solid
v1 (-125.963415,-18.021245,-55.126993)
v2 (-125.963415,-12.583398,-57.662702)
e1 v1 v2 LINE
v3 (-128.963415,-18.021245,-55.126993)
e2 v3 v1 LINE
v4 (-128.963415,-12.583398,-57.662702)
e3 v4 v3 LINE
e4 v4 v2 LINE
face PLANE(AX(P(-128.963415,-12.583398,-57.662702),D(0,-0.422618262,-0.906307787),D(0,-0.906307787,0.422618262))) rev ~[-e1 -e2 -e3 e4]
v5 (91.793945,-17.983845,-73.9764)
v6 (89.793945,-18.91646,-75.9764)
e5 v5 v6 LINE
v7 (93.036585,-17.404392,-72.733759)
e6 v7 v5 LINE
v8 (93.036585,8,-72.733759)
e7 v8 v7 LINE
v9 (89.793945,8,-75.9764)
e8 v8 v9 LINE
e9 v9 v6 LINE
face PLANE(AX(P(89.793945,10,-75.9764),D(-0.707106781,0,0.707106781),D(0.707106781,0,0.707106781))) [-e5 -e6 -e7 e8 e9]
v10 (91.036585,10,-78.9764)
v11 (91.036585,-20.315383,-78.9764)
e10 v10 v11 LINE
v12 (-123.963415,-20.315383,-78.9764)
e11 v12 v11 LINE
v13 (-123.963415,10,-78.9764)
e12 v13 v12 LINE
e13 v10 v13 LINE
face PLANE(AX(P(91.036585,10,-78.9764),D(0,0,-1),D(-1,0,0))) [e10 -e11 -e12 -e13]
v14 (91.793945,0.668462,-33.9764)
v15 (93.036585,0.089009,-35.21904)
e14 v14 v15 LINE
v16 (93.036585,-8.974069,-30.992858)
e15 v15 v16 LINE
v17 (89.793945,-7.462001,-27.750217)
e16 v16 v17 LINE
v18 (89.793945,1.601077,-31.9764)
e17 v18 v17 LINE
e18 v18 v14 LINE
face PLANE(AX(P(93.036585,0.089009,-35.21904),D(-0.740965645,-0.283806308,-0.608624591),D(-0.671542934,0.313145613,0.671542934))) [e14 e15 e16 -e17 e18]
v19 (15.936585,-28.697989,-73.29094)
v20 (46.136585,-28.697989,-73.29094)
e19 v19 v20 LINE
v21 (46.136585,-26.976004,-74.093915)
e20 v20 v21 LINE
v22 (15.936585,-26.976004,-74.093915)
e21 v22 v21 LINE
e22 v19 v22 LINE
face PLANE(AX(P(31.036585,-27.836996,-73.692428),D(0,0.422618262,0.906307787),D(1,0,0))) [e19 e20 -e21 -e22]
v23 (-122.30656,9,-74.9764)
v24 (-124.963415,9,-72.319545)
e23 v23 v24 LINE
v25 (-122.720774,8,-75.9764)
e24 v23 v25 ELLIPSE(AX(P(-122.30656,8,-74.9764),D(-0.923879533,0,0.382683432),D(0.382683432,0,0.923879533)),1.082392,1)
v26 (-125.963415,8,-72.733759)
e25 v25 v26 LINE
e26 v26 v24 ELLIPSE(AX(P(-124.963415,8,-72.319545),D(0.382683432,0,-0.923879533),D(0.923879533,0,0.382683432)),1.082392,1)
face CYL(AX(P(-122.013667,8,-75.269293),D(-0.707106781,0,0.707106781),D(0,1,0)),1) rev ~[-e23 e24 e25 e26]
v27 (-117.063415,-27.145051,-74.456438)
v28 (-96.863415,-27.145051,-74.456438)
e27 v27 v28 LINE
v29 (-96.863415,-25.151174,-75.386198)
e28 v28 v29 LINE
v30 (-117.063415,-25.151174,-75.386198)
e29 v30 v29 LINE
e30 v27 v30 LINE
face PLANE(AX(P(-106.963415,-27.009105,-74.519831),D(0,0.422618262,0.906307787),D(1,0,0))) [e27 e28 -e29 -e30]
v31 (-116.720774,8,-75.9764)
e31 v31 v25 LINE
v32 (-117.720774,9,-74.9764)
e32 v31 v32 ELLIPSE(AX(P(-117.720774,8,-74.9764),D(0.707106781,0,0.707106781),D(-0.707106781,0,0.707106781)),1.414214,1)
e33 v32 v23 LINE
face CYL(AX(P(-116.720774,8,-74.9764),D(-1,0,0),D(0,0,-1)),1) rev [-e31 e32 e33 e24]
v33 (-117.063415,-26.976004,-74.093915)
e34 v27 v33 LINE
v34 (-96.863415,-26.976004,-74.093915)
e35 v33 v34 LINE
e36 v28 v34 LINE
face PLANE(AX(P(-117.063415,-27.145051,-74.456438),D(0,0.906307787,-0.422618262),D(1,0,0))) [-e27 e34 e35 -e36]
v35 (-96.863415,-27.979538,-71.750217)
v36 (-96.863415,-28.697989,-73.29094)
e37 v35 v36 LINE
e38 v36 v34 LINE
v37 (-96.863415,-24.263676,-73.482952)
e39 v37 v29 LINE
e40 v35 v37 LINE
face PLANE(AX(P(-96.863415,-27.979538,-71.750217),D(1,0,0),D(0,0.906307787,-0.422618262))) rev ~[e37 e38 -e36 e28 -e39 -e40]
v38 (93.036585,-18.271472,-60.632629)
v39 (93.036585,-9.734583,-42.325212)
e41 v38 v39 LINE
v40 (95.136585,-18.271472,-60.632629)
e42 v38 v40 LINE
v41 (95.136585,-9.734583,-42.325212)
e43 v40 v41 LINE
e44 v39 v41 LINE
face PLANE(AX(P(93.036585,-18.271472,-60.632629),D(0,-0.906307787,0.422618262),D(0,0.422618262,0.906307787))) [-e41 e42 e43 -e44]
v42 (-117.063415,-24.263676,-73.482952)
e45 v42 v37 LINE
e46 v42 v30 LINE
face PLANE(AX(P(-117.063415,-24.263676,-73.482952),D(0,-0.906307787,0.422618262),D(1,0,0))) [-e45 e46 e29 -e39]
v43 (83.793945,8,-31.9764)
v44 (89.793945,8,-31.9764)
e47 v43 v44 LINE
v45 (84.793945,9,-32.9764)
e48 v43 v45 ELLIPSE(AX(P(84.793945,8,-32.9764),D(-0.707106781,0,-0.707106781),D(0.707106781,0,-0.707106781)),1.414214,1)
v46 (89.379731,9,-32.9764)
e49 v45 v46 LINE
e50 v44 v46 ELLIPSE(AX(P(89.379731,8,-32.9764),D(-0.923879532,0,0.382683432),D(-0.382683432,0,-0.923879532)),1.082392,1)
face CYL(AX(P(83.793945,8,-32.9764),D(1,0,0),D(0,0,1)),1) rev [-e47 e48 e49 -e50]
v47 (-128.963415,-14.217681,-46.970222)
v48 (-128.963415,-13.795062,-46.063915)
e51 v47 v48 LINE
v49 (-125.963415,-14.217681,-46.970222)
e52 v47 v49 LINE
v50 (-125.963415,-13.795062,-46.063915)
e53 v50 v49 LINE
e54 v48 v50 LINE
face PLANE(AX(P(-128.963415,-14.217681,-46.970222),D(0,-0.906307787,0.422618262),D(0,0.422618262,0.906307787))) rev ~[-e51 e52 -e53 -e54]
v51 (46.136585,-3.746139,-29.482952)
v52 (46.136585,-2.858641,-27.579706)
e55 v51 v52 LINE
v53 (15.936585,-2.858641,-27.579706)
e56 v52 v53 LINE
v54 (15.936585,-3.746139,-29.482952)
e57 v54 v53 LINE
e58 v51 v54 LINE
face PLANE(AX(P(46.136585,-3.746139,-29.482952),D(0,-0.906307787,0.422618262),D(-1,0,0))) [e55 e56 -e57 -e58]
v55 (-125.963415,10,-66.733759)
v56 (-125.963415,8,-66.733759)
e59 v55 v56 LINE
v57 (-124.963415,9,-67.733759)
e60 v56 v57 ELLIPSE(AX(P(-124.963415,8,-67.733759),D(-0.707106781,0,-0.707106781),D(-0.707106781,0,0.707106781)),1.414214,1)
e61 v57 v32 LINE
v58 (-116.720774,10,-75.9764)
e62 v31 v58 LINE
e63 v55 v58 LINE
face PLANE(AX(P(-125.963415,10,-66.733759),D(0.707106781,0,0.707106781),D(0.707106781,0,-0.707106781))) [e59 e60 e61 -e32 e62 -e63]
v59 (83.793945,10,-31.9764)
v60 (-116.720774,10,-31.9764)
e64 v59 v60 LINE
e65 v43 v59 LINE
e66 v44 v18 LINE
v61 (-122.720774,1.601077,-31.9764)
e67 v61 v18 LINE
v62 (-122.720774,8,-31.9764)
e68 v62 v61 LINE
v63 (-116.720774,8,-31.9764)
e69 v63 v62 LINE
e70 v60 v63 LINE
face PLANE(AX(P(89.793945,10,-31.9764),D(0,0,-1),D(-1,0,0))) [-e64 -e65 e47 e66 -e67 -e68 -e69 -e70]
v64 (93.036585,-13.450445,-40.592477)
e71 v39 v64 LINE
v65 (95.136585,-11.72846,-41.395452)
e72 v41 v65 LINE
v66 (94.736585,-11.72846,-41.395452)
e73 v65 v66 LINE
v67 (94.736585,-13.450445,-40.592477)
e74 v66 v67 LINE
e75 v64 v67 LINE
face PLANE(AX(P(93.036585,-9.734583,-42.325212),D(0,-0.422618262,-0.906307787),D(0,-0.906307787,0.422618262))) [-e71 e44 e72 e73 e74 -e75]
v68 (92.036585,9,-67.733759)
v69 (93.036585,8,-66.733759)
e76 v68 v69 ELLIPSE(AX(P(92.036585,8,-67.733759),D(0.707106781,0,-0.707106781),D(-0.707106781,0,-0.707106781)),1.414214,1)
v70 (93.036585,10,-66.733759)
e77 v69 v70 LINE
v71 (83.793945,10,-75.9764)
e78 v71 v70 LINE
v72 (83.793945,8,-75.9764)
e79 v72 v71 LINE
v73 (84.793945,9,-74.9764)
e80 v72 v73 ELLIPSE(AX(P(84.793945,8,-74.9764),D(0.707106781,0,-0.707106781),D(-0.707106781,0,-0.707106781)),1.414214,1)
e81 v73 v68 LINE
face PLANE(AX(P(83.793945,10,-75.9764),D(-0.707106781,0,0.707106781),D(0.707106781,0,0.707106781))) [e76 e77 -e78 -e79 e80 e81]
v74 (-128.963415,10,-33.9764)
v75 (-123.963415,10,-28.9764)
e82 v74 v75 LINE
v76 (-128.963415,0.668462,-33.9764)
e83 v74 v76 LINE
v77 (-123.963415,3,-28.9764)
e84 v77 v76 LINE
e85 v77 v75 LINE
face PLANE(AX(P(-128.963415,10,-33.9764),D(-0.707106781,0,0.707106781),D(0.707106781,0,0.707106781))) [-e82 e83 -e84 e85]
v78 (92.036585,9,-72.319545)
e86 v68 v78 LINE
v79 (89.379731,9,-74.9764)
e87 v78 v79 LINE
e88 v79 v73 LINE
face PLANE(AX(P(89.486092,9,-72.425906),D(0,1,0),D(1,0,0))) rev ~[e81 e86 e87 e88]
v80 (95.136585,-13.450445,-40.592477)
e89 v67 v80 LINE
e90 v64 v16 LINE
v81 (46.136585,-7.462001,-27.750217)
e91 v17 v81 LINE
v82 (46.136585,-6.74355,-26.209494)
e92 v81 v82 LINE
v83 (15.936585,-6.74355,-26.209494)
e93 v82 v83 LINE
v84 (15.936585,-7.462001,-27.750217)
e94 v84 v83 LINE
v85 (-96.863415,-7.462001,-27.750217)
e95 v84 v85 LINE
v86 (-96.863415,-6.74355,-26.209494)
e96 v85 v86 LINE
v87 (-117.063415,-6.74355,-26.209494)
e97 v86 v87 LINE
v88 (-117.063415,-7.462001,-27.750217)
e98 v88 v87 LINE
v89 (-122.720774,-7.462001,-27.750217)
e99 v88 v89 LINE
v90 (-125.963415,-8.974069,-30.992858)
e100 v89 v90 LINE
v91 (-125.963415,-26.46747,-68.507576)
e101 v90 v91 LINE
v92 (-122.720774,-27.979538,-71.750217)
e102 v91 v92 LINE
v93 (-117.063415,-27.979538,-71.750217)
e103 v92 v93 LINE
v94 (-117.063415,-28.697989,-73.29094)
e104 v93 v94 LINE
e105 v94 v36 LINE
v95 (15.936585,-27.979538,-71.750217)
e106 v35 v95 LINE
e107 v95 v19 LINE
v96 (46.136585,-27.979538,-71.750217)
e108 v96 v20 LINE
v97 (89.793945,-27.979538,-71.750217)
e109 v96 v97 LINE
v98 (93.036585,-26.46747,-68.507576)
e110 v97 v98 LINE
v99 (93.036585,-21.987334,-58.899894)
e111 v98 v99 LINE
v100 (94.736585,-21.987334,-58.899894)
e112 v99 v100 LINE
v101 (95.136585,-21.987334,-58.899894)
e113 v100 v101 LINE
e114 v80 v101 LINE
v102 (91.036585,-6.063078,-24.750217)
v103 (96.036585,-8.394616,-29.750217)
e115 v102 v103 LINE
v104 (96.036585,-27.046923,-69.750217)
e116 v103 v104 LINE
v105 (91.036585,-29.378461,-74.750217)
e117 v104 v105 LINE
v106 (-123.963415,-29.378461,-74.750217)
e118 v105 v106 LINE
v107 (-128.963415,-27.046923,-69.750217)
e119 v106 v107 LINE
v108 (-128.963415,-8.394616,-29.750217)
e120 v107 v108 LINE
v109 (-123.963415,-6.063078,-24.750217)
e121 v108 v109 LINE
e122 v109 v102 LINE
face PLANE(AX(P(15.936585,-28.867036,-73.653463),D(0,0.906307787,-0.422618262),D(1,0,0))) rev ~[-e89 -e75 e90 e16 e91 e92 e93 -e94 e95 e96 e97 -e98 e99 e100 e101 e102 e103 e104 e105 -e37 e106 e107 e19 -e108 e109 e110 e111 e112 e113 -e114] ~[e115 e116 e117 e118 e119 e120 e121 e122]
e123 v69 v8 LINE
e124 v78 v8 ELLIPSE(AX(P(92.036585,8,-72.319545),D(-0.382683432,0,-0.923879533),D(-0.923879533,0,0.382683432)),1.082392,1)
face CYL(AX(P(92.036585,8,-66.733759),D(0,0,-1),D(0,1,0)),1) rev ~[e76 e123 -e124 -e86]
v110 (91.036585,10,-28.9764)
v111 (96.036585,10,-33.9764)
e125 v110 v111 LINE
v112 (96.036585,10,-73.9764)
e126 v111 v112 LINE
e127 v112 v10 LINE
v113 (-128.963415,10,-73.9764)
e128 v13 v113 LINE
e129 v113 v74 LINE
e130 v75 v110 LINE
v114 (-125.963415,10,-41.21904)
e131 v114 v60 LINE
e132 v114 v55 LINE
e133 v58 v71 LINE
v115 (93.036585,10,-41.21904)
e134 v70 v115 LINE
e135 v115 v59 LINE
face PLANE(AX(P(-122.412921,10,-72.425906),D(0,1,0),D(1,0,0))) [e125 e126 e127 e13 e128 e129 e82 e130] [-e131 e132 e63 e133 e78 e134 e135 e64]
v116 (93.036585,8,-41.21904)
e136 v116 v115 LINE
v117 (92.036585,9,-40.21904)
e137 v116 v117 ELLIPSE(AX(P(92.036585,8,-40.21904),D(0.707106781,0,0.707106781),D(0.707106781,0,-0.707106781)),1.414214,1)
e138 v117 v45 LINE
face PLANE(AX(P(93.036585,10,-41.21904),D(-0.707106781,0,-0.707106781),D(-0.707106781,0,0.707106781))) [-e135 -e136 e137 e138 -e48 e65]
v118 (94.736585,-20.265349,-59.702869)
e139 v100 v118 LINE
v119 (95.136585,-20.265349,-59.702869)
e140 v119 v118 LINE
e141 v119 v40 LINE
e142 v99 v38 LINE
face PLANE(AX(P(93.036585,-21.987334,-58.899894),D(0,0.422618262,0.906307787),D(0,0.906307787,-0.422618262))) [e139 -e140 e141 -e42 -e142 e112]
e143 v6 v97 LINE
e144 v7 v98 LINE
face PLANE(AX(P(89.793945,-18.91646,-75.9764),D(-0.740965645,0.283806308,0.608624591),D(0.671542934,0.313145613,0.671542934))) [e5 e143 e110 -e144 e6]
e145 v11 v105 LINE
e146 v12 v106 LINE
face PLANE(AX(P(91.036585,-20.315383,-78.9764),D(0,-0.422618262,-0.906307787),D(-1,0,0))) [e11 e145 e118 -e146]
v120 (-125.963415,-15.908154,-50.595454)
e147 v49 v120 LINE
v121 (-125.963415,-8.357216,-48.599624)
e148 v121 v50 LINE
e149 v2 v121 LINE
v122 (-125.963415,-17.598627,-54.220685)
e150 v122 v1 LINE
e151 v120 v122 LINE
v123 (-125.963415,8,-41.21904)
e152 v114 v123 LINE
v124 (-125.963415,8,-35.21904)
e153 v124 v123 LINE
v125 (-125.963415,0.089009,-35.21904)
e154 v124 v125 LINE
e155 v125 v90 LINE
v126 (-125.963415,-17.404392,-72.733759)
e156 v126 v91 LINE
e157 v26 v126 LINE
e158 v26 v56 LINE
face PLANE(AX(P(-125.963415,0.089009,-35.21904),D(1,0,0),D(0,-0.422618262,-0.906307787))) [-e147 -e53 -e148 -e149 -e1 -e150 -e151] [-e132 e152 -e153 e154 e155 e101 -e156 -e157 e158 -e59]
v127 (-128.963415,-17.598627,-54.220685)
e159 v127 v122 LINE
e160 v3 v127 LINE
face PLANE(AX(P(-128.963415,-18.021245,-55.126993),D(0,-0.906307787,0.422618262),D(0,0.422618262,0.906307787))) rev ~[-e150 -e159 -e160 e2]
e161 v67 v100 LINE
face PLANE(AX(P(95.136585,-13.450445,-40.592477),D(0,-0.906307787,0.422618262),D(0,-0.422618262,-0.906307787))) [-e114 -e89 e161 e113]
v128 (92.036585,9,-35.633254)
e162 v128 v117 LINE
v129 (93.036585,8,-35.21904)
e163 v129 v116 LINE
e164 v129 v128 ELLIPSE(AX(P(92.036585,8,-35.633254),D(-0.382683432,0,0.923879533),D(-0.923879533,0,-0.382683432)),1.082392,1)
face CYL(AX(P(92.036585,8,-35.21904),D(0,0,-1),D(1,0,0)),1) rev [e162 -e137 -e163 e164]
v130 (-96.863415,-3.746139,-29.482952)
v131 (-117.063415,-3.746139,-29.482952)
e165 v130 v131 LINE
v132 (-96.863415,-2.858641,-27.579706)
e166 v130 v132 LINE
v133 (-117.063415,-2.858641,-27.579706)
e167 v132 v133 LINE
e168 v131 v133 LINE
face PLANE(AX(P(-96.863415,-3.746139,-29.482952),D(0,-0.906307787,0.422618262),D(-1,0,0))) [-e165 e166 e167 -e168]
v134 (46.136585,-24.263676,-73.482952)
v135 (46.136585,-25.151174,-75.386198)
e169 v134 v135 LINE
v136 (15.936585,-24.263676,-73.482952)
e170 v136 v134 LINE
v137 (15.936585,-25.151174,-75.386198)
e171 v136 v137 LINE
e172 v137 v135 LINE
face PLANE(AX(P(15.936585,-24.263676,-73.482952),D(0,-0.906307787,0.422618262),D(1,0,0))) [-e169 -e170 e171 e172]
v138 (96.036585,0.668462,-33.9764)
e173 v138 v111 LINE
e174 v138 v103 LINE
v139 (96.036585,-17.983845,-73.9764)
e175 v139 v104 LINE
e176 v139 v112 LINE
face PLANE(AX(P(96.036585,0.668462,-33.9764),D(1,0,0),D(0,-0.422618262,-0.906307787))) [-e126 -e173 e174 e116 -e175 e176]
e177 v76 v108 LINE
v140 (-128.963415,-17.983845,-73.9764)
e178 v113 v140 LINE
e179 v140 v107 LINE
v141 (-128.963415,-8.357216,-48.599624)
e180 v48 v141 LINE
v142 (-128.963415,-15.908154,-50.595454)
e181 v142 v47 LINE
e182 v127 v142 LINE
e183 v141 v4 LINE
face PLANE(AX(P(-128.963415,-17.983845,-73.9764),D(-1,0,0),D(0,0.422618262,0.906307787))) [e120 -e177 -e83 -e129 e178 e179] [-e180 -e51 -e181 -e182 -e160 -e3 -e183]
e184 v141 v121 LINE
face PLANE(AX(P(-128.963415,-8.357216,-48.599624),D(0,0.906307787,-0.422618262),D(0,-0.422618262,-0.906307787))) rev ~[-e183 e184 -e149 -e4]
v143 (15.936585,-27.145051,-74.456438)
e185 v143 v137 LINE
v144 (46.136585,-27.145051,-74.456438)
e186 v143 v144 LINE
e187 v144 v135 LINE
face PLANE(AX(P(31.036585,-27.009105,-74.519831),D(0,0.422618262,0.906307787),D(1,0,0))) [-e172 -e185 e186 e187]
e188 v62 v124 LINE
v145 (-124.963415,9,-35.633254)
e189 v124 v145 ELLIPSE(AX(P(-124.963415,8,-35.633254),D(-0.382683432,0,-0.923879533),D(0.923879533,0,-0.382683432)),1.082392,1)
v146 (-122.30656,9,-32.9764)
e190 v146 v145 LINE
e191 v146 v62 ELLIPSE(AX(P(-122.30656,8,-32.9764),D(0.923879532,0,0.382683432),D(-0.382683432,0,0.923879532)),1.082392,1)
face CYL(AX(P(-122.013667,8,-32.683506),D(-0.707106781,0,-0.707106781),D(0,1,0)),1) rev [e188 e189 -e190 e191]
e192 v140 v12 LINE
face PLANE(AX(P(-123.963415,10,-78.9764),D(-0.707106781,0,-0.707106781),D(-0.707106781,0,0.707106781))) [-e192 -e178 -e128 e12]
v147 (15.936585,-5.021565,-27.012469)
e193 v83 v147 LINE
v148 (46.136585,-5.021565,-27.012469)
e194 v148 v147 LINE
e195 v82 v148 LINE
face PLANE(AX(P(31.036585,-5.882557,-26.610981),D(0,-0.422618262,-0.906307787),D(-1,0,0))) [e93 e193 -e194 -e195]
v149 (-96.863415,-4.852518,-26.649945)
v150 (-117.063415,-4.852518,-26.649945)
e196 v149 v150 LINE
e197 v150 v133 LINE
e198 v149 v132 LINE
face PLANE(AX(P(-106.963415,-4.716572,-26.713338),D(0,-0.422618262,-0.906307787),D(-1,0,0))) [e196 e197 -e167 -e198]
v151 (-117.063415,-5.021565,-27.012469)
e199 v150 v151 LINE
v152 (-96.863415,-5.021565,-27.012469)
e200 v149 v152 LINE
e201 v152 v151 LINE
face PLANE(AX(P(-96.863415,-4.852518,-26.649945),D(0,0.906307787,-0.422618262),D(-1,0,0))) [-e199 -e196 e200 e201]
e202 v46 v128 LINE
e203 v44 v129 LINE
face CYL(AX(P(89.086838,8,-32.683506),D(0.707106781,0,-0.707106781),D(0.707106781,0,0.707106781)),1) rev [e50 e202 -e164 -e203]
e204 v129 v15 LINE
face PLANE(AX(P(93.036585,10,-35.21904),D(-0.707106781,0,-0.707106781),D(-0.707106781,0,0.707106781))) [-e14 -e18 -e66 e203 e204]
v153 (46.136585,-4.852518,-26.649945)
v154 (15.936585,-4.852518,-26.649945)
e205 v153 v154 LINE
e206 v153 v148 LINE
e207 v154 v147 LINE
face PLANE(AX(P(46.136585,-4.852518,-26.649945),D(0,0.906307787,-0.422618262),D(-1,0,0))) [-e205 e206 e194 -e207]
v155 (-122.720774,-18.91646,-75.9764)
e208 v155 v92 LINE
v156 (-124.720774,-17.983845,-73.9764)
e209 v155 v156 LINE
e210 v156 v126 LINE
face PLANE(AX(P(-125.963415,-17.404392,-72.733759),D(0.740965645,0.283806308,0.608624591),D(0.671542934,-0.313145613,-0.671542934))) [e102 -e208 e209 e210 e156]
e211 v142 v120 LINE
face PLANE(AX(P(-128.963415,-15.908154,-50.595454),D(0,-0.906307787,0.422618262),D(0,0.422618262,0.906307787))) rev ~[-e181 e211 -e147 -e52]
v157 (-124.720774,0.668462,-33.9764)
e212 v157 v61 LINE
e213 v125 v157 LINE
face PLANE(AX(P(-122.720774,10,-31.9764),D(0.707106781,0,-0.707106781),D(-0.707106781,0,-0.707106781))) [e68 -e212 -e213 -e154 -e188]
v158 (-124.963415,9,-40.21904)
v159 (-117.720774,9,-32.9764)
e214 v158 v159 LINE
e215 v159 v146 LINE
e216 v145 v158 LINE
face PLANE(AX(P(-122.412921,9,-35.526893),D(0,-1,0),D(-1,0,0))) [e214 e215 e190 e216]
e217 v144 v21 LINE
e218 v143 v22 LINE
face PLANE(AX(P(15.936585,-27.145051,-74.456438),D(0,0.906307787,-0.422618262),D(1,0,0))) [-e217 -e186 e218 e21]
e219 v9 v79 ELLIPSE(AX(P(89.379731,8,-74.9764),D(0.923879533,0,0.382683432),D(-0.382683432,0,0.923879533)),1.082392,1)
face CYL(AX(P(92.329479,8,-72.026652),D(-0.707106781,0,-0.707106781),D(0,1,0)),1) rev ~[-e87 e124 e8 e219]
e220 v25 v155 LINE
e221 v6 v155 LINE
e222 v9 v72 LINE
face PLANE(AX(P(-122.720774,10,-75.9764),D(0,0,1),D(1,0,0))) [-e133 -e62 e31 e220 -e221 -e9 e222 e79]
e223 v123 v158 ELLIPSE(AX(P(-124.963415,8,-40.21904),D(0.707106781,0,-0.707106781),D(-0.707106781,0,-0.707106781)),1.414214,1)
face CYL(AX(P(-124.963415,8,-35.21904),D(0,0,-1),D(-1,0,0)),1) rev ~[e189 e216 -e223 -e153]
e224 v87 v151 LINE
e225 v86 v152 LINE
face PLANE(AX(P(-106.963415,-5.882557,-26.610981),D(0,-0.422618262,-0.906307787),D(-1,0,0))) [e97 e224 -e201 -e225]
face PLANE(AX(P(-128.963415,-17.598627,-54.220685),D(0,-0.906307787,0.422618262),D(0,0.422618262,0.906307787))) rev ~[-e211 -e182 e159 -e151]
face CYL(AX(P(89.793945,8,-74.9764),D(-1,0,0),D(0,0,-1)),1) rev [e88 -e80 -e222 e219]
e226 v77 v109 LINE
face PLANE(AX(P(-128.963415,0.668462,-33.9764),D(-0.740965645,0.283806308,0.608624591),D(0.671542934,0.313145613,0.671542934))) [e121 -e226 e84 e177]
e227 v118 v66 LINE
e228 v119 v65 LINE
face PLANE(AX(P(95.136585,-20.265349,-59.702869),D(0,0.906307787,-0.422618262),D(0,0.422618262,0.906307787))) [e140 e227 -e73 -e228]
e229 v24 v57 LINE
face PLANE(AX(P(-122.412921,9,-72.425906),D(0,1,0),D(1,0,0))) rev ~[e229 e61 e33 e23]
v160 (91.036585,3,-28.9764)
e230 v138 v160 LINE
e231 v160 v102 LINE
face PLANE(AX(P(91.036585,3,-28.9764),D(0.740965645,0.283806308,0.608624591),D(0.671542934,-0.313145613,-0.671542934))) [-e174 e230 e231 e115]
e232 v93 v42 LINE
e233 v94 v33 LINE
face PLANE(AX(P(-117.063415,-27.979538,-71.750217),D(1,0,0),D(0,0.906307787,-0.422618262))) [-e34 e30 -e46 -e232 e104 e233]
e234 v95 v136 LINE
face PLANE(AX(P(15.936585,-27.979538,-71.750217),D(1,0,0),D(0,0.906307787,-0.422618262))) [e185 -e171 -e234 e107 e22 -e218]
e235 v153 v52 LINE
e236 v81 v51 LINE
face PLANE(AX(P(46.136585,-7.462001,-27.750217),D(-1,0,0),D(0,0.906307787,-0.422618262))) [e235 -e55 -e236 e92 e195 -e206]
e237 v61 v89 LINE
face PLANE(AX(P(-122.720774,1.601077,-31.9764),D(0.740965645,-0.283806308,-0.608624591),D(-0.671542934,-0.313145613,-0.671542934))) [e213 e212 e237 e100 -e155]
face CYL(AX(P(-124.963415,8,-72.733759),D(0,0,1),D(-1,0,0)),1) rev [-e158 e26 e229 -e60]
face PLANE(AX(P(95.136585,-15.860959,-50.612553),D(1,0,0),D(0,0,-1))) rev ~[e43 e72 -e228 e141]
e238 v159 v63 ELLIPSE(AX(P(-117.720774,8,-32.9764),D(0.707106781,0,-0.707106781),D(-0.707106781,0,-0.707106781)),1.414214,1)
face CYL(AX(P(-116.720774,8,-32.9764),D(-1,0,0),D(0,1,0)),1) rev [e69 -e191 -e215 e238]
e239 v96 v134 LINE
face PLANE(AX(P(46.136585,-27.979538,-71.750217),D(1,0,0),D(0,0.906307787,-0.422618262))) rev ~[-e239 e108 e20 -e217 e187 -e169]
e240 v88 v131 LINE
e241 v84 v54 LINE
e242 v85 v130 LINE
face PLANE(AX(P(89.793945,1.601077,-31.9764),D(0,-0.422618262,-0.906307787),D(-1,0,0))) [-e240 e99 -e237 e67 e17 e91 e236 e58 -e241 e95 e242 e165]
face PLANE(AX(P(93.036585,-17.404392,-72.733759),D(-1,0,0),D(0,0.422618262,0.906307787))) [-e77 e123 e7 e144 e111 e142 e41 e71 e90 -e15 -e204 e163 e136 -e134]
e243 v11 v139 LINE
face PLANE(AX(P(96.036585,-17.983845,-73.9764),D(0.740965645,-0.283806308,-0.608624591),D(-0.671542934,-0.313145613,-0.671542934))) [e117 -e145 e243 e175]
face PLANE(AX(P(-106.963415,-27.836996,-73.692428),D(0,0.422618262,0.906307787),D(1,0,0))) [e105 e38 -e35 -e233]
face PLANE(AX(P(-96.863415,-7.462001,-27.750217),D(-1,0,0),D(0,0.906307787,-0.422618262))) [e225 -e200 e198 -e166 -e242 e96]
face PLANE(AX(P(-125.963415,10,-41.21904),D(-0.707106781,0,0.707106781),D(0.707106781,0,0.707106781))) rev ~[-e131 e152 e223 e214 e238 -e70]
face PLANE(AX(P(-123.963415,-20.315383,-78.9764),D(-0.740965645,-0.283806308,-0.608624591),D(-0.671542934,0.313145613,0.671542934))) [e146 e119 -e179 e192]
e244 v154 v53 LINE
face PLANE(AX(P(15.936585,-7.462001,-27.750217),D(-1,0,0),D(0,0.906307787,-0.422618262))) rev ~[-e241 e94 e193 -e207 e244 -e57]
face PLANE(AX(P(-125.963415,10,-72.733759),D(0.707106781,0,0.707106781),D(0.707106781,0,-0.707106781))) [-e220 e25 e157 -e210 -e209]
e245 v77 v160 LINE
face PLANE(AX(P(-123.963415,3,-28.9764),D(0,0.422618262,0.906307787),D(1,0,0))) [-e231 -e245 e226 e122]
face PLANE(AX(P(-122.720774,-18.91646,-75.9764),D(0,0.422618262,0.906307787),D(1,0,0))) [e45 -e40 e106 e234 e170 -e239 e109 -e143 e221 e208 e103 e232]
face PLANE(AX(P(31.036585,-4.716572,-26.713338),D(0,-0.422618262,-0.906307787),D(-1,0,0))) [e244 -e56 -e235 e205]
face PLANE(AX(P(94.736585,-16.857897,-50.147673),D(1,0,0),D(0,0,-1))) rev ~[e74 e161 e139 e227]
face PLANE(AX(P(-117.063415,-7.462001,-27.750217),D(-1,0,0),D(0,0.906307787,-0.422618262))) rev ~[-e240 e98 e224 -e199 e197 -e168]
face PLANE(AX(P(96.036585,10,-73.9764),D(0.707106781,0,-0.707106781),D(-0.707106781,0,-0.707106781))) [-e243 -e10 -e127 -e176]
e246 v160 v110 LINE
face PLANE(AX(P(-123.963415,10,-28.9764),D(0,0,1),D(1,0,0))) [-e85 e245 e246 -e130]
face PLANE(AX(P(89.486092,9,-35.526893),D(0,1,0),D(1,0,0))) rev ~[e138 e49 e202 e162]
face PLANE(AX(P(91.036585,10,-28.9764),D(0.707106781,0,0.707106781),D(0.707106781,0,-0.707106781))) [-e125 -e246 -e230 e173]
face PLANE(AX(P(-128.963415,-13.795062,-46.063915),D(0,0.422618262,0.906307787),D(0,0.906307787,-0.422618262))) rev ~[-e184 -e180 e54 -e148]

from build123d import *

# Parameters (mm, degrees)
SALIENTE_EXTRUIR2_DEPTH = 3
SALIENTE_EXTRUIR3_DEPTH = 7
CORTAR_EXTRUIR1_DEPTH   = 19
CROQUIS5_W              = 231.218781219
CROQUIS5_H              = 62.937062938
CORTAR_EXTRUIR2_DEPTH   = 3
SALIENTE_EXTRUIR4_DEPTH = 35
SALIENTE_EXTRUIR5_DEPTH = 1
REDONDEO4_R             = 1
CORTAR_EXTRUIR3_DEPTH   = 237
SALIENTE_EXTRUIR6_DEPTH = 10
CORTAR_EXTRUIR4_DEPTH   = 10
CROQUIS14_W             = 20.2
CROQUIS14_H             = 4.1
CROQUIS14_W_2           = 30.2
CORTAR_EXTRUIR5_DEPTH   = 2.1
CROQUIS15_W             = 30.2
CROQUIS15_H             = 4.1
CROQUIS15_W_2           = 20.2
CORTAR_EXTRUIR6_DEPTH   = 2.1
CROQUIS16_W             = 20.2
CROQUIS16_H             = 1.9
CROQUIS16_W_2           = 30.2
SALIENTE_EXTRUIR7_DEPTH = 0.4
CROQUIS17_W             = 30.2
CROQUIS17_H             = 1.9
CROQUIS17_W_2           = 20.2
SALIENTE_EXTRUIR8_DEPTH = 0.4
CORTAR_EXTRUIR7_DEPTH   = 2.1
SALIENTE_EXTRUIR9_DEPTH = 0.4
CORTAR_EXTRUIR8_DEPTH   = 10


with BuildPart() as part:
    # Croquis2 → Saliente-Extruir2 (new body)
    with BuildSketch(Plane(origin=(0, 0, 0), x_dir=(1, 0, 0), z_dir=(0, 1, 0))):
        Polygon((-128.963414634, 73.976399667), (-123.963414634, 78.976399667), (91.036585366, 78.976399667), (96.036585366, 73.976399667), (96.036585366, 33.976399667), (91.036585366, 28.976399667), (-123.963414634, 28.976399667), (-128.963414634, 33.976399667), align=None)
    extrude(amount=SALIENTE_EXTRUIR2_DEPTH)

    # Croquis3 → Saliente-Extruir3 (add)
    with BuildSketch(Plane(origin=(0, 3, 0), x_dir=(1, 0, 0), z_dir=(0, 1, 0))):
        Polygon((-123.963414634, 78.976399667), (-128.963414634, 73.976399667), (-128.963414634, 33.976399667), (-123.963414634, 28.976399667), (91.036585366, 28.976399667), (96.036585366, 33.976399667), (96.036585366, 73.976399667), (91.036585366, 78.976399667), align=None)
        Polygon((90.208158241, 76.976399667), (-123.134987509, 76.976399667), (-126.963414634, 73.147972543), (-126.963414634, 34.804826792), (-123.134987509, 30.976399667), (90.208158241, 30.976399667), (94.036585366, 34.804826792), (94.036585366, 73.147972543), align=None, mode=Mode.SUBTRACT)
    extrude(amount=SALIENTE_EXTRUIR3_DEPTH)

    # Croquis4 → Cortar-Extruir1 (cut)
    with BuildSketch(Plane.XZ):
        with BuildLine():
            ThreePointArc((-103.963414634, -47.176399667), (-106.438288368, -48.201525933), (-107.463414634, -50.676399667))
            Line((-107.463414634, -50.676399667), (-103.963414634, -50.676399667))
            Line((-103.963414634, -50.676399667), (-103.963414634, -47.176399667))
        make_face()
        with BuildLine():
            Line((-103.963414634, -50.676399667), (-107.463414634, -50.676399667))
            ThreePointArc((-107.463414634, -50.676399667), (-106.438288368, -53.151273402), (-103.963414634, -54.176399667))
            Line((-103.963414634, -54.176399667), (-103.963414634, -50.676399667))
        make_face()
        with BuildLine():
            Line((-103.963414634, -47.176399667), (-103.963414634, -50.676399667))
            Line((-103.963414634, -50.676399667), (-100.463414634, -50.676399667))
            ThreePointArc((-100.463414634, -50.676399667), (-101.4885409, -48.201525933), (-103.963414634, -47.176399667))
        make_face()
        with BuildLine():
            Line((-100.463414634, -50.676399667), (-103.963414634, -50.676399667))
            Line((-103.963414634, -50.676399667), (-103.963414634, -54.176399667))
            ThreePointArc((-103.963414634, -54.176399667), (-101.4885409, -53.151273402), (-100.463414634, -50.676399667))
        make_face()
    extrude(amount=-CORTAR_EXTRUIR1_DEPTH, mode=Mode.SUBTRACT)

    # Croquis5 → Cortar-Extruir2 (cut)
    with BuildSketch(Plane.XZ):
        with Locations((-15.039838211, -54.605736692)):
            Rectangle(CROQUIS5_W, CROQUIS5_H)
    extrude(amount=-CORTAR_EXTRUIR2_DEPTH, mode=Mode.SUBTRACT)

    # Croquis6 → Saliente-Extruir4 (add)
    with BuildSketch(Plane(origin=(0, 10, 0), x_dir=(1, 0, 0), z_dir=(0, 1, 0))):
        Polygon((-128.963414634, 33.976399667), (-123.963414634, 28.976399667), (91.036585366, 28.976399667), (96.036585366, 33.976399667), (96.036585366, 73.976399667), (91.036585366, 78.976399667), (-123.963414634, 78.976399667), (-128.963414634, 73.976399667), align=None)
        Polygon((93.036585366, 35.219040355), (89.793944679, 31.976399667), (-122.720773947, 31.976399667), (-125.963414634, 35.219040355), (-125.963414634, 72.73375898), (-122.720773947, 75.976399667), (89.793944679, 75.976399667), (93.036585366, 72.73375898), align=None, mode=Mode.SUBTRACT)
    extrude(amount=-SALIENTE_EXTRUIR4_DEPTH)

    # Croquis7 → Saliente-Extruir5 (add)
    with BuildSketch(Plane(origin=(0, 10, 0), x_dir=(1, 0, 0), z_dir=(0, 1, 0))):
        Polygon((-125.963414634, 66.73375898), (-116.720773947, 75.976399667), (-122.720773947, 75.976399667), (-125.963414634, 72.73375898), align=None)
        Polygon((-125.963414634, 41.219040355), (-116.720773947, 31.976399667), (-122.720773947, 31.976399667), (-125.963414634, 35.219040355), align=None)
        Polygon((93.036585366, 41.219040355), (83.793944679, 31.976399667), (89.793944679, 31.976399667), (93.036585366, 35.219040355), align=None)
        Polygon((83.793944679, 75.976399667), (93.036585366, 66.73375898), (93.036585366, 72.73375898), (89.793944679, 75.976399667), align=None)
    extrude(amount=-SALIENTE_EXTRUIR5_DEPTH)

    # Redondeo4
    redondeo4_edges = [part.edges().sort_by_distance(p)[0] for p in [
        (-125.963414634, 9, -69.73375898),
        (-124.342094291, 9, -74.355079324),
        (-119.720773947, 9, -75.976399667),
        (-125.963414634, 9, -38.219040355),
        (-119.720773947, 9, -31.976399667),
        (-124.342094291, 9, -33.597720011),
        (93.036585366, 9, -38.219040355),
        (91.415265022, 9, -33.597720011),
        (86.793944679, 9, -31.976399667),
        (86.793944679, 9, -75.976399667),
        (91.415265022, 9, -74.355079324),
        (93.036585366, 9, -69.73375898),
    ]]
    fillet(redondeo4_edges, radius=REDONDEO4_R)

    # Croquis8 → Cortar-Extruir3 (cut)
    with BuildSketch(Plane.ZY.offset(128.963414634)):
        Polygon((-73.976399667, -25), (-73.976399667, -17.983844617), (-78.976399667, -20.315382908), (-78.976399667, -25), align=None)
        Polygon((-33.976399667, -25), (-33.976399667, 0.668461709), (-73.976399667, -17.983844617), (-73.976399667, -25), align=None)
        Polygon((-28.976399667, -25), (-28.976399667, 3), (-33.976399667, 0.668461709), (-33.976399667, -25), align=None)
    extrude(amount=-CORTAR_EXTRUIR3_DEPTH, mode=Mode.SUBTRACT)

    # Croquis9 → Saliente-Extruir6 (add)
    with BuildSketch(Plane(origin=(0, 13.562786388, -6.324431159), x_dir=(1, 0, 0), z_dir=(0, -0.906307787, 0.422618262))):
        Polygon((-128.963414634, -30.510571468), (-123.963414634, -24.993681874), (91.036585366, -24.993681874), (96.036585366, -30.510571468), (96.036585366, -74.645688227), (91.036585366, -80.162577822), (-123.963414634, -80.162577822), (-128.963414634, -74.645688227), align=None)
        Polygon((-125.963414634, -31.881673764), (-125.963414634, -73.274585932), (-122.720773947, -76.852444065), (89.793944679, -76.852444065), (93.036585366, -73.274585932), (93.036585366, -31.881673764), (89.793944679, -28.303815631), (-122.720773947, -28.303815631), align=None, mode=Mode.SUBTRACT)
    extrude(amount=SALIENTE_EXTRUIR6_DEPTH)

    # Croquis13 → Cortar-Extruir4 (cut)
    with BuildSketch(Plane.ZY.offset(128.963414634)):
        Polygon((-52.034030749, -12.823115041), (-50.595453573, -15.90815375), (-46.970222425, -14.217680703), (-48.408799601, -11.132641994), align=None)
        Polygon((-55.659261897, -14.513588088), (-54.220684722, -17.598626797), (-50.595453573, -15.90815375), (-52.034030749, -12.823115041), align=None)
    extrude(amount=-CORTAR_EXTRUIR4_DEPTH, mode=Mode.SUBTRACT)

    # Croquis14 → Cortar-Extruir5 (cut)
    with BuildSketch(Plane(origin=(0, -32.479246321, -69.651968509), x_dir=(1, 0, 0), z_dir=(0, 0.422618262, 0.906307787))):
        with Locations((-106.963414634, 7.01487902)):
            Rectangle(CROQUIS14_W, CROQUIS14_H)
        with Locations((31.036585366, 7.01487902)):
            Rectangle(CROQUIS14_W_2, CROQUIS14_H)
    extrude(amount=-CORTAR_EXTRUIR5_DEPTH, mode=Mode.SUBTRACT)

    # Croquis15 → Cortar-Extruir6 (cut)
    with BuildSketch(Plane(origin=(0, -11.961709362, -25.651968509), x_dir=(-1, 0, 0), z_dir=(0, -0.422618262, -0.906307787))):
        with Locations((-31.036585366, 7.01487902)):
            Rectangle(CROQUIS15_W, CROQUIS15_H)
        with Locations((106.963414634, 7.01487902)):
            Rectangle(CROQUIS15_W_2, CROQUIS15_H)
    extrude(amount=-CORTAR_EXTRUIR6_DEPTH, mode=Mode.SUBTRACT)

    # Croquis16 → Saliente-Extruir7 (add)
    with BuildSketch(Plane(origin=(0, -11.074211013, -23.748722156), x_dir=(-1, 0, 0), z_dir=(0, -0.422618262, -0.906307787))):
        with Locations((106.963414634, 5.91487902)):
            Rectangle(CROQUIS16_W, CROQUIS16_H)
        with Locations((-31.036585366, 5.91487902)):
            Rectangle(CROQUIS16_W_2, CROQUIS16_H)
    extrude(amount=SALIENTE_EXTRUIR7_DEPTH)

    # Croquis17 → Saliente-Extruir8 (add)
    with BuildSketch(Plane(origin=(0, -33.366744671, -71.555214862), x_dir=(1, 0, 0), z_dir=(0, 0.422618262, 0.906307787))):
        with Locations((31.036585366, 5.91487902)):
            Rectangle(CROQUIS17_W, CROQUIS17_H)
        with Locations((-106.963414634, 5.91487902)):
            Rectangle(CROQUIS17_W_2, CROQUIS17_H)
    extrude(amount=SALIENTE_EXTRUIR8_DEPTH)

    # Croquis18 → Cortar-Extruir7 (cut)
    with BuildSketch(Plane.ZY.offset(-93.036585366)):
        Polygon((-58.899894466, -21.987333973), (-60.632629339, -18.271472046), (-42.325212041, -9.734583159), (-40.592477167, -13.450445086), align=None)
    extrude(amount=-CORTAR_EXTRUIR7_DEPTH, mode=Mode.SUBTRACT)

    # Croquis19 → Saliente-Extruir9 (add)
    with BuildSketch(Plane.ZY.offset(-95.136585366)):
        Polygon((-58.899894466, -21.987333973), (-59.702869163, -20.265349177), (-41.395451865, -11.72846029), (-40.592477167, -13.450445086), align=None)
    extrude(amount=SALIENTE_EXTRUIR9_DEPTH)

    # Croquis20 → Cortar-Extruir8 (cut)
    with BuildSketch(Plane.ZY.offset(128.963414634)):
        Polygon((-48.599624209, -8.357215719), (-53.131163144, -10.470307028), (-52.034030749, -12.823115041), (-48.408799601, -11.132641994), (-46.970222425, -14.217680703), (-46.063914638, -13.795062441), align=None)
        Polygon((-57.662702079, -12.583398337), (-55.126992509, -18.021245059), (-54.220684722, -17.598626797), (-55.659261897, -14.513588088), (-52.034030749, -12.823115041), (-53.131163144, -10.470307028), align=None)
    extrude(amount=-CORTAR_EXTRUIR8_DEPTH, mode=Mode.SUBTRACT)


solid = part.part
